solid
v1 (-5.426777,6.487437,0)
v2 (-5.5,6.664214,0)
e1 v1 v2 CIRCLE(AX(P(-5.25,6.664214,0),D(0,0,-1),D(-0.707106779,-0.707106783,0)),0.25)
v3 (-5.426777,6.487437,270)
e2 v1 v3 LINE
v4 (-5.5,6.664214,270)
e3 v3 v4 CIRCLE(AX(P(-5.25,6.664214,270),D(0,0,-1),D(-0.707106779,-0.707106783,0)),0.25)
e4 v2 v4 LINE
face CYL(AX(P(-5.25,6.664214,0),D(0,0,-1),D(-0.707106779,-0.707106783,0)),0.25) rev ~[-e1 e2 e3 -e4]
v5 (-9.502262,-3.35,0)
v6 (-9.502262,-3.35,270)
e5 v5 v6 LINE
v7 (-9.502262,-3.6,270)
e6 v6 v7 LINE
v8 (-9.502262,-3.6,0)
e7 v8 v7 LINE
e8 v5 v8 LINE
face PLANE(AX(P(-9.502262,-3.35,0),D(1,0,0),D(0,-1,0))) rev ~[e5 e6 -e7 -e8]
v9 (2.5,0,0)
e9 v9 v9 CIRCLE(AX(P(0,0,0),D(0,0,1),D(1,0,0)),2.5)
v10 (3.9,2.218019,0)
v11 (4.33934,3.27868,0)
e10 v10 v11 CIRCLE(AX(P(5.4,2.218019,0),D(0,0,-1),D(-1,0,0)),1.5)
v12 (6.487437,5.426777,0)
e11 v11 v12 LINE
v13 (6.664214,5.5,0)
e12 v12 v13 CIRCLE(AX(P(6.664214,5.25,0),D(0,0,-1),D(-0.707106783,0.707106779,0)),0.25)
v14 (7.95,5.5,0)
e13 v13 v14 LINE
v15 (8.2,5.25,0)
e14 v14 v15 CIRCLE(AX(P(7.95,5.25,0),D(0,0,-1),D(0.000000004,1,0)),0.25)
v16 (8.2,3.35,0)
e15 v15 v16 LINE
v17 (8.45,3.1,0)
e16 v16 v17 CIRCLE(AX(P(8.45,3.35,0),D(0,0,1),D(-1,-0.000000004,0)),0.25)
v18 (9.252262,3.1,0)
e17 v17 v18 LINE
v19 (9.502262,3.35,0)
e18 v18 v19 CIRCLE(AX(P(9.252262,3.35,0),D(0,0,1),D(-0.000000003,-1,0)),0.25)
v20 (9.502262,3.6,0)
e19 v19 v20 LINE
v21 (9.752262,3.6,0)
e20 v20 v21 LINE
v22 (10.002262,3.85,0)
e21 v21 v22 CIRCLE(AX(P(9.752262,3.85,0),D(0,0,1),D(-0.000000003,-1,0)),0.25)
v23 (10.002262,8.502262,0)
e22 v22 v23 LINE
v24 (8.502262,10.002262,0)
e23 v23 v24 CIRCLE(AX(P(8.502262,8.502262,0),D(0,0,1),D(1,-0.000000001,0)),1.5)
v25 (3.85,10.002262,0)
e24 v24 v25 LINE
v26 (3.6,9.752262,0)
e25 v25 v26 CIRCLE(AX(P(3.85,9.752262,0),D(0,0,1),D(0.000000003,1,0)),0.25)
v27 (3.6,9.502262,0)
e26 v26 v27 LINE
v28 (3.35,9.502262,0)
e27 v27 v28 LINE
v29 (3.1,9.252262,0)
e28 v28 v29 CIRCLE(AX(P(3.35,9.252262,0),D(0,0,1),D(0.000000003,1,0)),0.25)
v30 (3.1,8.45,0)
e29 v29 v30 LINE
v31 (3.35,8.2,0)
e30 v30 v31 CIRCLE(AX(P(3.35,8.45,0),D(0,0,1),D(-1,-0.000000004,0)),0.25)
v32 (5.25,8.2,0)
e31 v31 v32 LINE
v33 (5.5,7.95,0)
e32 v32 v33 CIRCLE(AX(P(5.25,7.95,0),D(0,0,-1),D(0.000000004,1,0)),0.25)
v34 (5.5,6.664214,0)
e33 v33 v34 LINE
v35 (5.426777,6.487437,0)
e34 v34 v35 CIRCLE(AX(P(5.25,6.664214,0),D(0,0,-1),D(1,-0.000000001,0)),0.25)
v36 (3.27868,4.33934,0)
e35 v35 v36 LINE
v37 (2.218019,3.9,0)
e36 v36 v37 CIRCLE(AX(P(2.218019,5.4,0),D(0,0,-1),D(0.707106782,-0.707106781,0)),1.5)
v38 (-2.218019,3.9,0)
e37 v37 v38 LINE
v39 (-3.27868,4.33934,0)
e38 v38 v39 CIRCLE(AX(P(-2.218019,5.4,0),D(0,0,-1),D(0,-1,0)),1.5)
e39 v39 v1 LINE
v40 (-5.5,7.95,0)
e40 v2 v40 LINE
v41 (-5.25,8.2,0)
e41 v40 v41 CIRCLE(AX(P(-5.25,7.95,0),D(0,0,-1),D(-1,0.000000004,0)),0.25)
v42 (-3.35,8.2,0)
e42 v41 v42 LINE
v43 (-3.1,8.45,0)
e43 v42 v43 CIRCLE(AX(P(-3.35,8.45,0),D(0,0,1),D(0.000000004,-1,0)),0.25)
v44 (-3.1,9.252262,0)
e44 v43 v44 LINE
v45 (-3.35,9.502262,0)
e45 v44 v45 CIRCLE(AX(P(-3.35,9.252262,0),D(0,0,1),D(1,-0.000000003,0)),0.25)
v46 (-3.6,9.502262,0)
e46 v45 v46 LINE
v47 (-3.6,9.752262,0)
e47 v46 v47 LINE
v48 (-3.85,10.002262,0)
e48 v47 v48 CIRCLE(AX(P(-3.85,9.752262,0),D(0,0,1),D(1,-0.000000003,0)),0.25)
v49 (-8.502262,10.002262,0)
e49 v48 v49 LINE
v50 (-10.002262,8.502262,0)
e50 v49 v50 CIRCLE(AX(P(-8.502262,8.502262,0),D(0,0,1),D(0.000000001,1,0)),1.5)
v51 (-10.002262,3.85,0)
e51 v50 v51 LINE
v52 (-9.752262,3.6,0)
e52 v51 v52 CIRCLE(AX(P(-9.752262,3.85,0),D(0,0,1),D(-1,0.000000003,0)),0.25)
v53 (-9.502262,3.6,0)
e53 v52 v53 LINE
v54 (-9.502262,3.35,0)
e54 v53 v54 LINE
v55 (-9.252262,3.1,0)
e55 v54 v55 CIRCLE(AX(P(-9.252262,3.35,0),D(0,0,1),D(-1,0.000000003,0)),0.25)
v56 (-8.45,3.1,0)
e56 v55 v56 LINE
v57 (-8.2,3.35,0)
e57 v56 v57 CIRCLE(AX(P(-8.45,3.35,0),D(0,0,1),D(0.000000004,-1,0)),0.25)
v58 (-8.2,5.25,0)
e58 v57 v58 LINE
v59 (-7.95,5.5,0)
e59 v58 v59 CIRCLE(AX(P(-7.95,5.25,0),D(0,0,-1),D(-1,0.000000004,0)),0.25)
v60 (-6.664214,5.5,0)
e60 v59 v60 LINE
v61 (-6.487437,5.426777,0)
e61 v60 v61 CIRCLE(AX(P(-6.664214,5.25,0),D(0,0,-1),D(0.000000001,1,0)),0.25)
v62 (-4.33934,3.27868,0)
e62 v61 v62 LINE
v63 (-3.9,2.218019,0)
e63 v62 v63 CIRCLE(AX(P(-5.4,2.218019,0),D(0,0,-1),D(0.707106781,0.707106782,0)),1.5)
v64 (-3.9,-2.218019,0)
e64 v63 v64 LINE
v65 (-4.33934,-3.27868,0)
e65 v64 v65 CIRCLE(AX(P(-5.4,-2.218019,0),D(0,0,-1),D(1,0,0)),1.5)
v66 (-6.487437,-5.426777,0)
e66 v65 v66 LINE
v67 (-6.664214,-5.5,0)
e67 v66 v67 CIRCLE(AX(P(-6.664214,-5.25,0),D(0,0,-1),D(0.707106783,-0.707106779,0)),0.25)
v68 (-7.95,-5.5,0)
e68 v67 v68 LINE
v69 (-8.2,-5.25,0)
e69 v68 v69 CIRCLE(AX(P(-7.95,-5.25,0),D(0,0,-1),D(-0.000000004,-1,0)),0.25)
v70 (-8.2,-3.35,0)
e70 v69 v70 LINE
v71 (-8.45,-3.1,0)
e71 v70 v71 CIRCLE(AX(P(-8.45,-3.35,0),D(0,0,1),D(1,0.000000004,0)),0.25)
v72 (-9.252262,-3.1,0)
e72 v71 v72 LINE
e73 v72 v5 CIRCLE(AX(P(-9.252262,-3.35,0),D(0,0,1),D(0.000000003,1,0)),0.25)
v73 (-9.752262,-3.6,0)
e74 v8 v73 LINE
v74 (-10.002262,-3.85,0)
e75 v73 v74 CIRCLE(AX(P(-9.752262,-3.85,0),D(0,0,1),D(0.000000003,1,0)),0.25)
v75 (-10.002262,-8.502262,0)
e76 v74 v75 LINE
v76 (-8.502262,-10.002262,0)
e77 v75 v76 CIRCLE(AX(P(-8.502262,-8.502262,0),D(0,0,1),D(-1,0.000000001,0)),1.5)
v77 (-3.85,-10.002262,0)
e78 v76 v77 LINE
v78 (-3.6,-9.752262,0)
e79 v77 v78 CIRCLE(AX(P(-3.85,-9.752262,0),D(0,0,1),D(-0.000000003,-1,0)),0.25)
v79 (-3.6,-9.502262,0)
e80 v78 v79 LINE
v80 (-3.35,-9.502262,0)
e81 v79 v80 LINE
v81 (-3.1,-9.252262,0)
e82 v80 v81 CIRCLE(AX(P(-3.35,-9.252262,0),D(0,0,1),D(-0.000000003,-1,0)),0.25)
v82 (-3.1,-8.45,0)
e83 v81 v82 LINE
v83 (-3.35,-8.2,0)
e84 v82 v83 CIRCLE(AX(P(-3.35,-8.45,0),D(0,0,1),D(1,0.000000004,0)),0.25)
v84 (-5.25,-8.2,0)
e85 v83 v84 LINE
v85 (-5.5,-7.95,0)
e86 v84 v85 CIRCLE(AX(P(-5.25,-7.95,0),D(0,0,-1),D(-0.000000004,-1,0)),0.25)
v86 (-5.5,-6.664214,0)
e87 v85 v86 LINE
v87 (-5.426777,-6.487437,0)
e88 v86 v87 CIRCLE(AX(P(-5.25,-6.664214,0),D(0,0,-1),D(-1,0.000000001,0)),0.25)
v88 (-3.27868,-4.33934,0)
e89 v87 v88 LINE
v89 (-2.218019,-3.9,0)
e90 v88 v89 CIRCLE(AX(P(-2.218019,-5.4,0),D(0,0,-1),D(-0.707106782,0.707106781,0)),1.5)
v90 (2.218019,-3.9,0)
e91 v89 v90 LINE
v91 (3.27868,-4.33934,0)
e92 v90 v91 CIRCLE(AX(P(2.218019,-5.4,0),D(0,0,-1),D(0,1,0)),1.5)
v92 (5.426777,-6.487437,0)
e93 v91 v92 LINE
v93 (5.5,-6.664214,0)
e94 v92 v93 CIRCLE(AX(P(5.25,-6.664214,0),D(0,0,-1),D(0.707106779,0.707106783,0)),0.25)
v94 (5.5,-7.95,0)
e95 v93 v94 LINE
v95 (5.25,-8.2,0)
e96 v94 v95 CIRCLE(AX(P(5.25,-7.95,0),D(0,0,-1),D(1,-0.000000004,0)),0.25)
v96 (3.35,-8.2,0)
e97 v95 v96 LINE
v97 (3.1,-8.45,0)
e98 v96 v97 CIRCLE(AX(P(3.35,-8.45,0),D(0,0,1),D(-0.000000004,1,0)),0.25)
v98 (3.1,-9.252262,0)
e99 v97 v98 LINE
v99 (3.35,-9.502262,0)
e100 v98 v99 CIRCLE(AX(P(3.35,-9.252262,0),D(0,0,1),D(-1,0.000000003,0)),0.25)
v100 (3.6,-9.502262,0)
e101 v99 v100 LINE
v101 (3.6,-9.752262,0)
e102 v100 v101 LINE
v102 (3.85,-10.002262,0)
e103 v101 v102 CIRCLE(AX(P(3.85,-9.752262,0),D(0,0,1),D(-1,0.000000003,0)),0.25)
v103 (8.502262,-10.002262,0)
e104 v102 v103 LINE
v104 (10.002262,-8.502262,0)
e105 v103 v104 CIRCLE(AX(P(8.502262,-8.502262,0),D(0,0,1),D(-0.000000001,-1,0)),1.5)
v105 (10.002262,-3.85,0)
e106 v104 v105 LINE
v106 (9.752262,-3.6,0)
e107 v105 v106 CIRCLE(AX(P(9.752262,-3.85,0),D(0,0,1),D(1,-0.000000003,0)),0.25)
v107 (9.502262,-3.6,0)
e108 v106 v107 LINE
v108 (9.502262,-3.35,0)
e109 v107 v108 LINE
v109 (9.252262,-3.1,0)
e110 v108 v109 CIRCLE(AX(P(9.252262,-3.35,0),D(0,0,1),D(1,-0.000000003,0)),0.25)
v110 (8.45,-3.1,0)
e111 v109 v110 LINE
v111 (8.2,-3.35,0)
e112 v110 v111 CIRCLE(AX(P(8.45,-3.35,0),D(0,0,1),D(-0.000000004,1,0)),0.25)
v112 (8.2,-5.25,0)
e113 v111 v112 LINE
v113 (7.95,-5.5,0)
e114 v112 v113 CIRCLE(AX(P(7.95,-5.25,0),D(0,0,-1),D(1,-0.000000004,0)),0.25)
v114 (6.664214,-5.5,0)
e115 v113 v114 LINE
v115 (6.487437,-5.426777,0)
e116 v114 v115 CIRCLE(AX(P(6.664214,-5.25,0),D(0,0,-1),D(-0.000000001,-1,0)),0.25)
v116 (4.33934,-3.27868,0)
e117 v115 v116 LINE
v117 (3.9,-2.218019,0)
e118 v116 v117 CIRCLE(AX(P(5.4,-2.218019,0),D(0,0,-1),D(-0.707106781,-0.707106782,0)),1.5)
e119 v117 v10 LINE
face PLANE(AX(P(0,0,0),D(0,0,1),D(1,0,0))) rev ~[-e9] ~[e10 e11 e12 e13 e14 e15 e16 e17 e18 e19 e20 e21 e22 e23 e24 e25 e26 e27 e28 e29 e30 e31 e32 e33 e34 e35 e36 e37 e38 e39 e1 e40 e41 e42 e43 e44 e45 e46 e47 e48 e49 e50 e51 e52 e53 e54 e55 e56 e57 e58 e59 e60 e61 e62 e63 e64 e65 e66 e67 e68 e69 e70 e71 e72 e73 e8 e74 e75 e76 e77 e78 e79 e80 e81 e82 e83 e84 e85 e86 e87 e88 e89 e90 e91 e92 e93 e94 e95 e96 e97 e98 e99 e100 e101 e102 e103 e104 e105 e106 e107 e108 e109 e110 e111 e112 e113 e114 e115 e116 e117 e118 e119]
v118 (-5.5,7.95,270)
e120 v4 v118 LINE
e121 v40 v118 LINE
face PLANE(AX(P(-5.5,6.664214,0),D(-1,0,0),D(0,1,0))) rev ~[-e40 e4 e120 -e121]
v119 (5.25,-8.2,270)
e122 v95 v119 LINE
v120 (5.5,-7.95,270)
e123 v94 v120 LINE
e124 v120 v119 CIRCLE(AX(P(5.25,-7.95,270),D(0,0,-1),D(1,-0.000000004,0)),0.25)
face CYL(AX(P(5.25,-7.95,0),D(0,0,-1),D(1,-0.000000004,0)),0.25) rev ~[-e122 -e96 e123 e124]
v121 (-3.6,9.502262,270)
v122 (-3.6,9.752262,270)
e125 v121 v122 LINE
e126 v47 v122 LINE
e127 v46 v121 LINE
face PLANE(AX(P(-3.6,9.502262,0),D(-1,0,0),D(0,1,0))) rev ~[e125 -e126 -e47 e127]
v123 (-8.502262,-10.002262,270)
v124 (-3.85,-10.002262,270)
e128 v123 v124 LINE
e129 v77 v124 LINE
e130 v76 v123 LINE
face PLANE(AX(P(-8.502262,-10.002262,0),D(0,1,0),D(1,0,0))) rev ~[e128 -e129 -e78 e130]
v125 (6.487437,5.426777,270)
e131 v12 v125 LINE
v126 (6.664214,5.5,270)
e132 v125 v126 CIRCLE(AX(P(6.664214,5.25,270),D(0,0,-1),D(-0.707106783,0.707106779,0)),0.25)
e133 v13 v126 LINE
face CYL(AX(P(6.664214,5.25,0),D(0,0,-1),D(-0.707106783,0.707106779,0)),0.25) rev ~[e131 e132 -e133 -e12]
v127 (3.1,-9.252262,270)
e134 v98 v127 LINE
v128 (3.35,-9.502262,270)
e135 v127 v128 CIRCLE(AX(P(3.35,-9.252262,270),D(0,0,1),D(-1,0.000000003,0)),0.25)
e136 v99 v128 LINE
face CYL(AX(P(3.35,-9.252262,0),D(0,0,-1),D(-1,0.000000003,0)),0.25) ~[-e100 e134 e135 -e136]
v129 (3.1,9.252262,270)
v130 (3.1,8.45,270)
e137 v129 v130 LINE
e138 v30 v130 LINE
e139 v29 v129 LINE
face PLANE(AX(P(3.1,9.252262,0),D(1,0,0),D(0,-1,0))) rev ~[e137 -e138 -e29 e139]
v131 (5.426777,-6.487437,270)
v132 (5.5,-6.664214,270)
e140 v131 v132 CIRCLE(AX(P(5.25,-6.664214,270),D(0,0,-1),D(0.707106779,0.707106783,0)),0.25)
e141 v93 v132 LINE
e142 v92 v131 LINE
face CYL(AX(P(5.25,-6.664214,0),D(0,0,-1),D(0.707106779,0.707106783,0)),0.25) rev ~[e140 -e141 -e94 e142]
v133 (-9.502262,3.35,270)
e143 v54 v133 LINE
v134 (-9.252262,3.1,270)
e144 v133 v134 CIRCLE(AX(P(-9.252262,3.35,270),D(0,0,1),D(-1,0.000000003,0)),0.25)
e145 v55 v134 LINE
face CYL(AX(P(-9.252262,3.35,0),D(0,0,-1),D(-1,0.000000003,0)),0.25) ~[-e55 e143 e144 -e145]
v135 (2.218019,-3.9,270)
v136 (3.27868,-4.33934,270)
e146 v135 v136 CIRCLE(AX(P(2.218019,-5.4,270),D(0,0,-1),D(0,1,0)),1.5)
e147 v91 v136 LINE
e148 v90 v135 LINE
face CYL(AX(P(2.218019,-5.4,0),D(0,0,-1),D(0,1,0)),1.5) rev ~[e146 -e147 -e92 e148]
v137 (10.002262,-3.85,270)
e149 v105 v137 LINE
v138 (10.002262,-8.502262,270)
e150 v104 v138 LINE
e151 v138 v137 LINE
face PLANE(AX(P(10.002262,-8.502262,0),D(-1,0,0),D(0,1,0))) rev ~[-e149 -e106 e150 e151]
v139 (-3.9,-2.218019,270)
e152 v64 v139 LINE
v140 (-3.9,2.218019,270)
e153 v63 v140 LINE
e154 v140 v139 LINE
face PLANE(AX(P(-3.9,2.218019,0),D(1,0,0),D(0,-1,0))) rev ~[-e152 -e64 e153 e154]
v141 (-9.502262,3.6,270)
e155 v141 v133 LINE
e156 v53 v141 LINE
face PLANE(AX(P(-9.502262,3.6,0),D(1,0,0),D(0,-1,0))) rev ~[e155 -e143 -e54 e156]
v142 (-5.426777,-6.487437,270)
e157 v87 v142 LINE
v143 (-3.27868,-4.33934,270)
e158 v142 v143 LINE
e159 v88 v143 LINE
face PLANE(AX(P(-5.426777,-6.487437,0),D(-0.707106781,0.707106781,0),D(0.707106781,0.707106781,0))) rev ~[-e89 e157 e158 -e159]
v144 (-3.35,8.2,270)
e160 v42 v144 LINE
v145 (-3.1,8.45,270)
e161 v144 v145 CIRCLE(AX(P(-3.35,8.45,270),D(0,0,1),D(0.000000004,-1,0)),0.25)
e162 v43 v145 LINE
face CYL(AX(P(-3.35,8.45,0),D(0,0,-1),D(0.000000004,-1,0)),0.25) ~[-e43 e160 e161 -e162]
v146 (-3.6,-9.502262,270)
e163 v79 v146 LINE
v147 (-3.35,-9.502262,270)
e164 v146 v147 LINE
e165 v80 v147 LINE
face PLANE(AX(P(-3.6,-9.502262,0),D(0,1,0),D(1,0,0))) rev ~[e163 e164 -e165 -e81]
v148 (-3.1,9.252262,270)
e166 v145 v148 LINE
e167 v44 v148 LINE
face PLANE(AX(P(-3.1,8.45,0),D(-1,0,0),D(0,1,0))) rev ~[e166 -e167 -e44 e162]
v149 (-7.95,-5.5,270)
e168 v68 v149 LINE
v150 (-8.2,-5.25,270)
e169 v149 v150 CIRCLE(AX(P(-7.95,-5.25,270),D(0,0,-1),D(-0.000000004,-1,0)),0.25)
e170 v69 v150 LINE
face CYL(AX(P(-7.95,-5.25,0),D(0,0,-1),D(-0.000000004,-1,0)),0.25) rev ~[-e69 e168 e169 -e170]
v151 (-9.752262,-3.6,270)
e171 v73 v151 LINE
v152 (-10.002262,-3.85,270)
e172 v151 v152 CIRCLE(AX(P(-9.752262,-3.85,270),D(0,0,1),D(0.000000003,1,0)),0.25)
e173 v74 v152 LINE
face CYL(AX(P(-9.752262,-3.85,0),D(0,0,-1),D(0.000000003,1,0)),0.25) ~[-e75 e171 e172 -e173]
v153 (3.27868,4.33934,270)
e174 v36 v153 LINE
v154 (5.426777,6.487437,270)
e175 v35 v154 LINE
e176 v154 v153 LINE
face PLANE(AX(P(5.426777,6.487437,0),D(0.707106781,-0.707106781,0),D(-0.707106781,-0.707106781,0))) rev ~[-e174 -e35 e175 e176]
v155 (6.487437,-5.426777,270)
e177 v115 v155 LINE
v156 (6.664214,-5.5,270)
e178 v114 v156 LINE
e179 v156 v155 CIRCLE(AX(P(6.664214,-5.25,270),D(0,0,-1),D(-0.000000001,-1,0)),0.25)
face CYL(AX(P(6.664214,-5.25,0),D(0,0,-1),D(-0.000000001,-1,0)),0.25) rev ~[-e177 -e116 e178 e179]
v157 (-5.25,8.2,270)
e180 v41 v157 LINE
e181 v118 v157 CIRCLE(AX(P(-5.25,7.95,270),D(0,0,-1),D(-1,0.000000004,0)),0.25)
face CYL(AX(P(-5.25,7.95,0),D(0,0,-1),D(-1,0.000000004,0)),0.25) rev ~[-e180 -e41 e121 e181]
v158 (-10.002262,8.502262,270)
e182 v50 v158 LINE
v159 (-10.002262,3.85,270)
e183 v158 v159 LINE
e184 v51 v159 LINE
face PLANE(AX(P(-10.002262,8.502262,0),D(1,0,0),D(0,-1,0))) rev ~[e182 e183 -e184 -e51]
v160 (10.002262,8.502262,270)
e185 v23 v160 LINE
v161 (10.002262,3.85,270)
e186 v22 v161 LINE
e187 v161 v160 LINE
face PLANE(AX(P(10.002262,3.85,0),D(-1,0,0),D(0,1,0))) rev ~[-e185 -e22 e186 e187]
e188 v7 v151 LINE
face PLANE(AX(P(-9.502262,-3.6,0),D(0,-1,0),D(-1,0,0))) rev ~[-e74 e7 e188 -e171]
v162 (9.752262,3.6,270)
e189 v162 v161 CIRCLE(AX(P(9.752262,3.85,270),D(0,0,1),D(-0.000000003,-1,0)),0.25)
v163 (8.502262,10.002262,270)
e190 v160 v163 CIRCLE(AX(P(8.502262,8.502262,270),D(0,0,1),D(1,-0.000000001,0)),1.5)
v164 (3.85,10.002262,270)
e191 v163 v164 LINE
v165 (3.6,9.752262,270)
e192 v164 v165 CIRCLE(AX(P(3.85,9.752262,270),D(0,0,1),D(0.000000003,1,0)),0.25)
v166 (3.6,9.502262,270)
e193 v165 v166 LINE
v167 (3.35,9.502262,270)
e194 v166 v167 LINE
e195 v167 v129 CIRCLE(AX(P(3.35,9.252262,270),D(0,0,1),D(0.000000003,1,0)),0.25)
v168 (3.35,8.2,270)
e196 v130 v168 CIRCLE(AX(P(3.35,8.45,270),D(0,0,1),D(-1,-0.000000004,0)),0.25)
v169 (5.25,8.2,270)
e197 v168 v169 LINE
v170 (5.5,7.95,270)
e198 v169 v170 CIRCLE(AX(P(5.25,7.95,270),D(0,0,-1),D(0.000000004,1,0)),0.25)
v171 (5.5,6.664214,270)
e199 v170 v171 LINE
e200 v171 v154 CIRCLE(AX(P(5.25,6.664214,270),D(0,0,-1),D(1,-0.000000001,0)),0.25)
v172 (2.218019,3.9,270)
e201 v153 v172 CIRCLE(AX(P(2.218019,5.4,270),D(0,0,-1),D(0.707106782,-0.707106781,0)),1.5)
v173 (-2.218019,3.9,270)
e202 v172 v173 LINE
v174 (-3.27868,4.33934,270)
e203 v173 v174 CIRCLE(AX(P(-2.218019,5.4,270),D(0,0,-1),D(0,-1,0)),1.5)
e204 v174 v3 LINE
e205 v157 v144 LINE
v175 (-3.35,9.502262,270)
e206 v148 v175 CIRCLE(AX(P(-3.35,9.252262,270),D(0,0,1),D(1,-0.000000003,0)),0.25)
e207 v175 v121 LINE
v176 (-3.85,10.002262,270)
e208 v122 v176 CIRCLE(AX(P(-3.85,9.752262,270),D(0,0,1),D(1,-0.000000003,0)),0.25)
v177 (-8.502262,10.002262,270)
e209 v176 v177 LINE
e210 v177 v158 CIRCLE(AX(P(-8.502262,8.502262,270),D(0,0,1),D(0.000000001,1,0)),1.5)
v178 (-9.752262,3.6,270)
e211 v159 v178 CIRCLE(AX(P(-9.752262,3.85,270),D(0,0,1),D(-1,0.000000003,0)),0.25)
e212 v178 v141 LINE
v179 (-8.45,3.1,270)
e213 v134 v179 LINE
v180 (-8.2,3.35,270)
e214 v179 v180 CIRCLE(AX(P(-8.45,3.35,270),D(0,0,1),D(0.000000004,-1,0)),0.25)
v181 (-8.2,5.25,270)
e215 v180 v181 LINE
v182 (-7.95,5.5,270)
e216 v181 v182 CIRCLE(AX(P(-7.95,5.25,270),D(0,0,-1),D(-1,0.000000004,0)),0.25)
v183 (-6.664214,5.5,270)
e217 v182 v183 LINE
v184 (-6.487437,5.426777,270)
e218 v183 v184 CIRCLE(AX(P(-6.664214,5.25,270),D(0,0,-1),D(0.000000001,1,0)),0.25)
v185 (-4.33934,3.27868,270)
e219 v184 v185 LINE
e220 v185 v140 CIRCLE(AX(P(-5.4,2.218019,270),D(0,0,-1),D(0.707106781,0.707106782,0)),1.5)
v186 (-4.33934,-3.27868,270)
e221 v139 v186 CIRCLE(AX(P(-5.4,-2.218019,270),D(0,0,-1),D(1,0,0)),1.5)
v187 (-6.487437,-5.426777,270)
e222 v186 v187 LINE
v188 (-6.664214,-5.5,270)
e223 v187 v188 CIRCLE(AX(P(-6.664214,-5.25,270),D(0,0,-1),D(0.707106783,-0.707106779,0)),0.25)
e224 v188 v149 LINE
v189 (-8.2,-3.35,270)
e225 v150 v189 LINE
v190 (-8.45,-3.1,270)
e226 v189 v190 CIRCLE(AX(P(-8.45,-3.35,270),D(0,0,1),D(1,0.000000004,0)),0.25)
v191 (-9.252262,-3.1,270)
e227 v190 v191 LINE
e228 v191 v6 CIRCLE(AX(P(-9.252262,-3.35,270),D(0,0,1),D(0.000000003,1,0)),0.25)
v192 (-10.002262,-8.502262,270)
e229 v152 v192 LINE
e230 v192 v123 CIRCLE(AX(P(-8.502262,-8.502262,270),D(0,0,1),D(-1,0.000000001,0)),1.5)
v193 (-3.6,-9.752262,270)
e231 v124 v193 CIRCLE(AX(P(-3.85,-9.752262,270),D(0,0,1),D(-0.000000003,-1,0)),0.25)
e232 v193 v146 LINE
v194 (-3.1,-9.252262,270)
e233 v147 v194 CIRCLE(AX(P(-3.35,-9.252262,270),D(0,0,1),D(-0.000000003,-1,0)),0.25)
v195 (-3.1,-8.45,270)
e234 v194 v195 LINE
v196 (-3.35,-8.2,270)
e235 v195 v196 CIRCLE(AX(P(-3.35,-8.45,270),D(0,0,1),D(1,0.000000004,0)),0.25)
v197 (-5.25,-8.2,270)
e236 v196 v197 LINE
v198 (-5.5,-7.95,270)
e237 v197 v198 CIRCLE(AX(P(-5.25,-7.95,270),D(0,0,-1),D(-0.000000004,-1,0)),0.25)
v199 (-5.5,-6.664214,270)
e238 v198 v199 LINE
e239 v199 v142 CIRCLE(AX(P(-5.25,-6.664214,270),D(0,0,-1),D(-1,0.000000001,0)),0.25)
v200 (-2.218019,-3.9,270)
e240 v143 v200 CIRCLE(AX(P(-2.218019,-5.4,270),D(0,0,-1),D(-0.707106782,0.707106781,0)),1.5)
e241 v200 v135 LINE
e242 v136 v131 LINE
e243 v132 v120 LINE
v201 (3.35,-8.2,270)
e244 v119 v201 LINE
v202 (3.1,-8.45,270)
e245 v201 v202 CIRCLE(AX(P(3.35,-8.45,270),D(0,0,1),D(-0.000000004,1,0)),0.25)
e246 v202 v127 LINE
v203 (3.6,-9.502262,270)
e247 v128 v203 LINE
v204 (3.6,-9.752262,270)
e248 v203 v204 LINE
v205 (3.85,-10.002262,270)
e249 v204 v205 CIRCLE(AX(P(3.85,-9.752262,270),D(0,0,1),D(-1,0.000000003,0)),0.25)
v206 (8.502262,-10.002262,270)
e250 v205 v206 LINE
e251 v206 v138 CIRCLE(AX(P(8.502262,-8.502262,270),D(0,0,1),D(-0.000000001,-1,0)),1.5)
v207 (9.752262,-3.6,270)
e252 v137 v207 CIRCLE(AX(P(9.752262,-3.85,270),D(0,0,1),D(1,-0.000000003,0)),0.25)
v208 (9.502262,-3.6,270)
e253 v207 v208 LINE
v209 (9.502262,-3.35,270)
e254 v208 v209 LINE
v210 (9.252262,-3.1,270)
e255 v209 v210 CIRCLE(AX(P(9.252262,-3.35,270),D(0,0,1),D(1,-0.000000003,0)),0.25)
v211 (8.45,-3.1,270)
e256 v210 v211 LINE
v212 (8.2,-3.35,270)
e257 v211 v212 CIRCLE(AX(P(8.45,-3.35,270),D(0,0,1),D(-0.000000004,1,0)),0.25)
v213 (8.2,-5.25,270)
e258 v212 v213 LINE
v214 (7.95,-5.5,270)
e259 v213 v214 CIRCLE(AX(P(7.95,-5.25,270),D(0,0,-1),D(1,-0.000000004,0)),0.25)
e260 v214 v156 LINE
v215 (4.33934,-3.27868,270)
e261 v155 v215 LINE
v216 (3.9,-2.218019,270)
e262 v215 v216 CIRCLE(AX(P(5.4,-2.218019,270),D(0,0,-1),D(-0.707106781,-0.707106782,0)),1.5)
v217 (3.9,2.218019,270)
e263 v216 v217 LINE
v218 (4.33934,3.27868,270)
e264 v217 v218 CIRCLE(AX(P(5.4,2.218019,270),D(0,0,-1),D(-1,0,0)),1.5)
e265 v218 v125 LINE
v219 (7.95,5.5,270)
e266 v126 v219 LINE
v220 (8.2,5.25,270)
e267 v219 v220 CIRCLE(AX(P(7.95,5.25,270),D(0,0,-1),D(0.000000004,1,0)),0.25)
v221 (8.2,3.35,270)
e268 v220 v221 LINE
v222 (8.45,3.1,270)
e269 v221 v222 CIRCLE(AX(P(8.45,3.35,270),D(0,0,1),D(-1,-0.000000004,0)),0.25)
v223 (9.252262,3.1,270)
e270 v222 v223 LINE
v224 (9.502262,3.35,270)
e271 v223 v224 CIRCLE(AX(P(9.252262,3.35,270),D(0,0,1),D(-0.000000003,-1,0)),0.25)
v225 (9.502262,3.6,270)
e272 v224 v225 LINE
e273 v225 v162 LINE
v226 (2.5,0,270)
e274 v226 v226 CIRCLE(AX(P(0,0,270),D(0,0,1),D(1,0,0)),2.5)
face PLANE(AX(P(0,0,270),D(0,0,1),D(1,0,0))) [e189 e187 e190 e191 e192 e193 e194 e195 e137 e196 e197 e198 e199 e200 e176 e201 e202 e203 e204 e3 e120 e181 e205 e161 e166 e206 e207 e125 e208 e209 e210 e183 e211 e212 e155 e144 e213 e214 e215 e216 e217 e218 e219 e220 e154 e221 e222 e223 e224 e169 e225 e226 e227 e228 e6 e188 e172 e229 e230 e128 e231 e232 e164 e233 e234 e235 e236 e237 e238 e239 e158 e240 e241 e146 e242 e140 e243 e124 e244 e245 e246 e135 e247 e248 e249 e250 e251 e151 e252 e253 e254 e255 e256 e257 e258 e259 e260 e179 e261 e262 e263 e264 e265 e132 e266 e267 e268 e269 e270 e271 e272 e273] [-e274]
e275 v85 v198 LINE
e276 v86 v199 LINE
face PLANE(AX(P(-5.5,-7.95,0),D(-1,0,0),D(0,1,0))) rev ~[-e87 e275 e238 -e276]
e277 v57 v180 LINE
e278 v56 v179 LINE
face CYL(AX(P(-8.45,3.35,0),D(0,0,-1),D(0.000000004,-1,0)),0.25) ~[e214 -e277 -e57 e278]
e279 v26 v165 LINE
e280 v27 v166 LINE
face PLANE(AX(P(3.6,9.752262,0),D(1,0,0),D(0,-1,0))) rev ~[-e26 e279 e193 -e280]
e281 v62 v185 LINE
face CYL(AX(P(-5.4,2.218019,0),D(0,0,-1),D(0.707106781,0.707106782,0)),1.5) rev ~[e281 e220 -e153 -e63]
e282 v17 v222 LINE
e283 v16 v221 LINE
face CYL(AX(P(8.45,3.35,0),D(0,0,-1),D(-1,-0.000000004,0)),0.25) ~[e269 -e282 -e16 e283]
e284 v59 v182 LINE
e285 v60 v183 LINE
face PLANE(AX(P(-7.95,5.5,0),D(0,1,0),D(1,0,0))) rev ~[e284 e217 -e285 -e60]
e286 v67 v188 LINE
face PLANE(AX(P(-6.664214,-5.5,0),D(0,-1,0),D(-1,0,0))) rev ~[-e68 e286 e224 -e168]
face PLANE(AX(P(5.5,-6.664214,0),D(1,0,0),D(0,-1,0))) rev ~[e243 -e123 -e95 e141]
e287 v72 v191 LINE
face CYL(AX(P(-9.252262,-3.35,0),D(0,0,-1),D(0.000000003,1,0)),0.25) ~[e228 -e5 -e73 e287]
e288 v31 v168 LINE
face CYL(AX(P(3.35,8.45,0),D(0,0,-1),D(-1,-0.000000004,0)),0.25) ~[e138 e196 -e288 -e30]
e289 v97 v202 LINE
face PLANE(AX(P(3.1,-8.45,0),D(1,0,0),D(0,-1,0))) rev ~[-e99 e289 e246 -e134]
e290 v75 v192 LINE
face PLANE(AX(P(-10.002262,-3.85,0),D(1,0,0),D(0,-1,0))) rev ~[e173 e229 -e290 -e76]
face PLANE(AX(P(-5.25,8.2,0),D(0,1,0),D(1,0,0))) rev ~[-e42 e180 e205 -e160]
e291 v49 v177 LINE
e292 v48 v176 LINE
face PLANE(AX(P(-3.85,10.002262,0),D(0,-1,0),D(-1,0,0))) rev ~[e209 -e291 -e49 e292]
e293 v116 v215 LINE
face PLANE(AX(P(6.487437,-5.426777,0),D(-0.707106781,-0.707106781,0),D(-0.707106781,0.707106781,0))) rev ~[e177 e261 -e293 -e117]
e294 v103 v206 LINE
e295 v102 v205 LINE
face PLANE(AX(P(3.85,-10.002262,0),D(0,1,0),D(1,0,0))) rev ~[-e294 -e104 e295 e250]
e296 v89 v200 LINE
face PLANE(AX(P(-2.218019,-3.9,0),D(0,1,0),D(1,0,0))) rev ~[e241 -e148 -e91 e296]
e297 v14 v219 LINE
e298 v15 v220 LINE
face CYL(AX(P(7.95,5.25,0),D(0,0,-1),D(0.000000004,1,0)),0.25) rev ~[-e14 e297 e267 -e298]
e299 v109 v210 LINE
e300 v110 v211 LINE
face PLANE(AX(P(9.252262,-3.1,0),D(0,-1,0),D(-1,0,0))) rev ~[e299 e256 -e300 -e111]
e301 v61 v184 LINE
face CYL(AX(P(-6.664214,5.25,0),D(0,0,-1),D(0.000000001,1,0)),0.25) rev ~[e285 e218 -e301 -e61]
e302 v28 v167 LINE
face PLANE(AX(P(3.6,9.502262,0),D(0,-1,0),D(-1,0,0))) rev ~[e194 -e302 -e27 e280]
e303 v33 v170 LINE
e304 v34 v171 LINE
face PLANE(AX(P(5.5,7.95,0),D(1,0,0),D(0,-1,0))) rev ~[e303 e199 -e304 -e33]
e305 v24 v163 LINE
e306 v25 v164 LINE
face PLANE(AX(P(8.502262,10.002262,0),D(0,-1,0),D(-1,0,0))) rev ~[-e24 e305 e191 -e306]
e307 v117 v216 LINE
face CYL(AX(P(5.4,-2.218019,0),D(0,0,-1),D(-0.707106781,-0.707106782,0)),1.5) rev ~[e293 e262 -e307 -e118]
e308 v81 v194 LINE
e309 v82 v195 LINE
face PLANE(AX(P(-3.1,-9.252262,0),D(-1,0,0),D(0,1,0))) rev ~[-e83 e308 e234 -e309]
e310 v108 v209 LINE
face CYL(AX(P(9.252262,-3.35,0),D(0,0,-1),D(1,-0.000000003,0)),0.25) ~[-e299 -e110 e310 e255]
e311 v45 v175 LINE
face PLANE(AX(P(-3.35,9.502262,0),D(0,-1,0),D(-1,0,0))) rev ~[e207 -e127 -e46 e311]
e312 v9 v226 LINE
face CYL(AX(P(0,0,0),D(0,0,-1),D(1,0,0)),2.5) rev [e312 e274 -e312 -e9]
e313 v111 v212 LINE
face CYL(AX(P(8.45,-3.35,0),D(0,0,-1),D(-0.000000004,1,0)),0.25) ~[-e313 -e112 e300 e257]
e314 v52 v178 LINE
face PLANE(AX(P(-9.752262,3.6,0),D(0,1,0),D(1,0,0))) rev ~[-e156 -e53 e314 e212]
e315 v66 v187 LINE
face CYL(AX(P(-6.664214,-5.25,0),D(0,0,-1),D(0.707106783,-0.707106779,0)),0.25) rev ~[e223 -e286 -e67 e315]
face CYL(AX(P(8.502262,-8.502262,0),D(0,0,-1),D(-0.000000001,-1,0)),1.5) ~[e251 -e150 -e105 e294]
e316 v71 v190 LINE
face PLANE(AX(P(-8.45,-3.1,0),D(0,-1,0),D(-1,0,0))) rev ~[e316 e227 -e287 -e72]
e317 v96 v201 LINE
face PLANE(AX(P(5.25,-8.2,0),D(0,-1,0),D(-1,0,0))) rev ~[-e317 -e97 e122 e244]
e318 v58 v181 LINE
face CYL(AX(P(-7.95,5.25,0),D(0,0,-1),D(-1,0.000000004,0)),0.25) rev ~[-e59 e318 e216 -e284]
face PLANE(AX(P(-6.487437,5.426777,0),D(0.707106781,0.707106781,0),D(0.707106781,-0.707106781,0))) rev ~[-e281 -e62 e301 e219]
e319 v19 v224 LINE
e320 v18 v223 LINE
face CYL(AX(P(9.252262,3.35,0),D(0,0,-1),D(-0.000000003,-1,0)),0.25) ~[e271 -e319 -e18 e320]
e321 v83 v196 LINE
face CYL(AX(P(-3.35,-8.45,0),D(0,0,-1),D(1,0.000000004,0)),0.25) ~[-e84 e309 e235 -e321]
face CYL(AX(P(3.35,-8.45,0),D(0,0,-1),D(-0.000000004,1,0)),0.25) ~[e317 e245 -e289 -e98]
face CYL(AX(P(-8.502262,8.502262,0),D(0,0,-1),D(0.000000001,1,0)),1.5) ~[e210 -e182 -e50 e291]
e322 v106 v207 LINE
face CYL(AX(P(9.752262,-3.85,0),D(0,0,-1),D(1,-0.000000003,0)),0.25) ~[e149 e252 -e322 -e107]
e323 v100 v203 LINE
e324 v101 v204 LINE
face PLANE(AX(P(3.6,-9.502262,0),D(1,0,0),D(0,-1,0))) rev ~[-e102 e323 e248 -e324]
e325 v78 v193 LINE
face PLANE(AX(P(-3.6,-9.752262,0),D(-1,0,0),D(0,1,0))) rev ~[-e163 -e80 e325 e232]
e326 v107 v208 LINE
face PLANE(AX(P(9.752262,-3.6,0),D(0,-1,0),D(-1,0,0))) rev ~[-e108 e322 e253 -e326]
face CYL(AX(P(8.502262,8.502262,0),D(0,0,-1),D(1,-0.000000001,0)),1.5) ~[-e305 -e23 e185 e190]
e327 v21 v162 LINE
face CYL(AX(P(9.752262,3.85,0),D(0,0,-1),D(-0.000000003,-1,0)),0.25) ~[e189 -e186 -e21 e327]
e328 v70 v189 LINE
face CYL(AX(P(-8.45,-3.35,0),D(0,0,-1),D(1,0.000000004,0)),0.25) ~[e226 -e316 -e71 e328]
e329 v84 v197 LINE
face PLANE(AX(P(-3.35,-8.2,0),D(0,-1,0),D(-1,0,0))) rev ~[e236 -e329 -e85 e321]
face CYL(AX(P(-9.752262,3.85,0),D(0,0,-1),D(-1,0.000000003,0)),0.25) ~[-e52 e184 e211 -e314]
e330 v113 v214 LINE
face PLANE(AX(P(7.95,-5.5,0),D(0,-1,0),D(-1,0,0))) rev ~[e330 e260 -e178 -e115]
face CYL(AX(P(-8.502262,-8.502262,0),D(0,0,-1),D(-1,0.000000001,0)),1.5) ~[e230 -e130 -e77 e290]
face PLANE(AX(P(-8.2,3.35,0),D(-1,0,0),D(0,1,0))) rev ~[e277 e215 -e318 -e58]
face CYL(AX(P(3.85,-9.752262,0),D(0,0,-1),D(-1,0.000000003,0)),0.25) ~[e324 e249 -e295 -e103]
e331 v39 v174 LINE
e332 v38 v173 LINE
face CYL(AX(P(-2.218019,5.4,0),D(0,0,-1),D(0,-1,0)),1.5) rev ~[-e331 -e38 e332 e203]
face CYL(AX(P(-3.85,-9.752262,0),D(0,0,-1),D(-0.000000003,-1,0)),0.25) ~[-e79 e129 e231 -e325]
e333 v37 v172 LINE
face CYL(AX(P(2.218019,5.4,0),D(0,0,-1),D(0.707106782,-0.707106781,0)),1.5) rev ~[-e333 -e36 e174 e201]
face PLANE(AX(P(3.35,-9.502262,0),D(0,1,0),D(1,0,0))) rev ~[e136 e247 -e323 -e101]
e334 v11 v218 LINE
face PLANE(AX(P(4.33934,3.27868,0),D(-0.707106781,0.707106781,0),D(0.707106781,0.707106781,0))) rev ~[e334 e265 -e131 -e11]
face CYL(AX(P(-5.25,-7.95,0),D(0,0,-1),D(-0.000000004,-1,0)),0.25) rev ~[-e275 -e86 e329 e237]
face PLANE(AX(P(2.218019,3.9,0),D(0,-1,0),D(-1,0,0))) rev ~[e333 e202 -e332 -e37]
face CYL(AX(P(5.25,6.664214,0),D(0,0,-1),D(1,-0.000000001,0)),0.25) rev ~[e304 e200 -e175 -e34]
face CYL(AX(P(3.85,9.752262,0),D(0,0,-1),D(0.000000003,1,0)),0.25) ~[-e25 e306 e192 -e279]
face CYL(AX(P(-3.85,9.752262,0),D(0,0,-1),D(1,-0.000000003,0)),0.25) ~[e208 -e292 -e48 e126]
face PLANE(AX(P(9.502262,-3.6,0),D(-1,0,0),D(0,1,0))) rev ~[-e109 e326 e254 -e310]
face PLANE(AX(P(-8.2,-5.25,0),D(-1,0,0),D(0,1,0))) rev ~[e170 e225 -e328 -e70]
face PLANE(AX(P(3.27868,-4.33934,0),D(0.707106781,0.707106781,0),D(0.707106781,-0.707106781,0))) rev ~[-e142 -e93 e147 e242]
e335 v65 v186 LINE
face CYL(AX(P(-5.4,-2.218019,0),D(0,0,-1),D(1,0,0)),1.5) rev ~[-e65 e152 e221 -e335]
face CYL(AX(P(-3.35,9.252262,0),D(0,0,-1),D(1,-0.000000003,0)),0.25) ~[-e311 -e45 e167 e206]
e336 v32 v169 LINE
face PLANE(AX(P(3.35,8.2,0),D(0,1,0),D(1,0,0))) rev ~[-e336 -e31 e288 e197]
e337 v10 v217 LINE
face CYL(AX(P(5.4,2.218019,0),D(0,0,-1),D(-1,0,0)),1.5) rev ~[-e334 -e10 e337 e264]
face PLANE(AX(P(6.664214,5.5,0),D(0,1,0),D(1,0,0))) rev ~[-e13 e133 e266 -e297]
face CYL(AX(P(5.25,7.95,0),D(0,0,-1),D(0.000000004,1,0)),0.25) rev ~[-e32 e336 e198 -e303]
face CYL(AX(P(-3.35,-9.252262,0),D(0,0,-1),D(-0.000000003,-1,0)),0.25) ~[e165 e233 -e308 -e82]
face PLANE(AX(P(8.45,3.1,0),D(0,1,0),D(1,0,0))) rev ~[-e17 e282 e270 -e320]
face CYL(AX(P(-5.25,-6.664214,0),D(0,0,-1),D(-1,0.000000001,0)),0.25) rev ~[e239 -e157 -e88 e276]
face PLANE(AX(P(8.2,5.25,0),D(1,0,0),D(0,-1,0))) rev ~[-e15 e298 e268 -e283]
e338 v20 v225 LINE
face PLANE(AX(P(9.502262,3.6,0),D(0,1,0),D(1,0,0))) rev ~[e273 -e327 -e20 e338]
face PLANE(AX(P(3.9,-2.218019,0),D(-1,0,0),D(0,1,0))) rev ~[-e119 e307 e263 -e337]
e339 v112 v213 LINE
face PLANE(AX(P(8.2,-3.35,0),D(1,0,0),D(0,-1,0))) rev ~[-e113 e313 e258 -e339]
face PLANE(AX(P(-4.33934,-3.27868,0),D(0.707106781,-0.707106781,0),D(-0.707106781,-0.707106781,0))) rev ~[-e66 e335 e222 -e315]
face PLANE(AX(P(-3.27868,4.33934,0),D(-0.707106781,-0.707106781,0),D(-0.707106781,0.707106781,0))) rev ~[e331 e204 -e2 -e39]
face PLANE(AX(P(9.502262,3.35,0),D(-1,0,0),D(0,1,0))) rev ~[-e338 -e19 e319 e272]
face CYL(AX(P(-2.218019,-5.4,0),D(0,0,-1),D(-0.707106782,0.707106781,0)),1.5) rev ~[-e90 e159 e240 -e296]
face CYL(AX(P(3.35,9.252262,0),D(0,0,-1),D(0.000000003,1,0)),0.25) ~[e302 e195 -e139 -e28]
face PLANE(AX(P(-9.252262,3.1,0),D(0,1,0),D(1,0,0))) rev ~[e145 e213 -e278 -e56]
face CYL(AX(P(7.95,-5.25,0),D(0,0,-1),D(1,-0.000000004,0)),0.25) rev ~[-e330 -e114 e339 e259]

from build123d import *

# Parameters (mm, degrees)
SKETCH_1_R      = 2.5
EXTRUDE_1_DEPTH = 270


with BuildPart() as part:
    # 草图1 → 凸台-拉伸1 (new body)
    with BuildSketch(Plane.XY):
        with BuildLine():
            Line((-8.502261885, -10.002261885), (-3.85, -10.002261885))
            ThreePointArc((-3.85, -10.002261885), (-3.673223305, -9.929038581), (-3.6, -9.752261885))
            Line((-3.6, -9.752261885), (-3.6, -9.502261885))
            Line((-3.6, -9.502261885), (-3.35, -9.502261885))
            ThreePointArc((-3.35, -9.502261885), (-3.173223305, -9.429038581), (-3.1, -9.252261885))
            Line((-3.1, -9.252261885), (-3.1, -8.45))
            ThreePointArc((-3.1, -8.45), (-3.173223305, -8.273223305), (-3.35, -8.2))
            Line((-3.35, -8.2), (-5.25, -8.2))
            ThreePointArc((-5.25, -8.2), (-5.426776695, -8.126776695), (-5.5, -7.95))
            Line((-5.5, -7.95), (-5.5, -6.664213562))
            ThreePointArc((-5.5, -6.664213562), (-5.480969883, -6.568542704), (-5.426776695, -6.487436867))
            Line((-5.426776695, -6.487436867), (-3.278679656, -4.339339828))
            ThreePointArc((-3.278679656, -4.339339828), (-2.792044633, -4.014180701), (-2.218019485, -3.9))
            Line((-2.218019485, -3.9), (2.218019485, -3.9))
            ThreePointArc((2.218019485, -3.9), (2.792044633, -4.014180701), (3.278679656, -4.339339828))
            Line((3.278679656, -4.339339828), (5.426776695, -6.487436867))
            ThreePointArc((5.426776695, -6.487436867), (5.480969883, -6.568542704), (5.5, -6.664213562))
            Line((5.5, -6.664213562), (5.5, -7.95))
            ThreePointArc((5.5, -7.95), (5.426776695, -8.126776695), (5.25, -8.2))
            Line((5.25, -8.2), (3.35, -8.2))
            ThreePointArc((3.35, -8.2), (3.173223305, -8.273223305), (3.1, -8.45))
            Line((3.1, -8.45), (3.1, -9.252261885))
            ThreePointArc((3.1, -9.252261885), (3.173223305, -9.429038581), (3.35, -9.502261885))
            Line((3.35, -9.502261885), (3.6, -9.502261885))
            Line((3.6, -9.502261885), (3.6, -9.752261885))
            ThreePointArc((3.6, -9.752261885), (3.673223305, -9.929038581), (3.85, -10.002261885))
            Line((3.85, -10.002261885), (8.502261885, -10.002261885))
            ThreePointArc((8.502261885, -10.002261885), (9.562922057, -9.562922057), (10.002261885, -8.502261885))
            Line((10.002261885, -8.502261885), (10.002261885, -3.85))
            ThreePointArc((10.002261885, -3.85), (9.929038581, -3.673223305), (9.752261885, -3.6))
            Line((9.752261885, -3.6), (9.502261885, -3.6))
            Line((9.502261885, -3.6), (9.502261885, -3.35))
            ThreePointArc((9.502261885, -3.35), (9.429038581, -3.173223305), (9.252261885, -3.1))
            Line((9.252261885, -3.1), (8.45, -3.1))
            ThreePointArc((8.45, -3.1), (8.273223305, -3.173223305), (8.2, -3.35))
            Line((8.2, -3.35), (8.2, -5.25))
            ThreePointArc((8.2, -5.25), (8.126776695, -5.426776695), (7.95, -5.5))
            Line((7.95, -5.5), (6.664213562, -5.5))
            ThreePointArc((6.664213562, -5.5), (6.568542704, -5.480969883), (6.487436867, -5.426776695))
            Line((6.487436867, -5.426776695), (4.339339828, -3.278679656))
            ThreePointArc((4.339339828, -3.278679656), (4.014180701, -2.792044633), (3.9, -2.218019485))
            Line((3.9, -2.218019485), (3.9, 2.218019485))
            ThreePointArc((3.9, 2.218019485), (4.014180701, 2.792044633), (4.339339828, 3.278679656))
            Line((4.339339828, 3.278679656), (6.487436867, 5.426776695))
            ThreePointArc((6.487436867, 5.426776695), (6.568542704, 5.480969883), (6.664213562, 5.5))
            Line((6.664213562, 5.5), (7.95, 5.5))
            ThreePointArc((7.95, 5.5), (8.126776695, 5.426776695), (8.2, 5.25))
            Line((8.2, 5.25), (8.2, 3.35))
            ThreePointArc((8.2, 3.35), (8.273223305, 3.173223305), (8.45, 3.1))
            Line((8.45, 3.1), (9.252261885, 3.1))
            ThreePointArc((9.252261885, 3.1), (9.429038581, 3.173223305), (9.502261885, 3.35))
            Line((9.502261885, 3.35), (9.502261885, 3.6))
            Line((9.502261885, 3.6), (9.752261885, 3.6))
            ThreePointArc((9.752261885, 3.6), (9.929038581, 3.673223305), (10.002261885, 3.85))
            Line((10.002261885, 3.85), (10.002261885, 8.502261885))
            ThreePointArc((10.002261885, 8.502261885), (9.562922057, 9.562922057), (8.502261885, 10.002261885))
            Line((8.502261885, 10.002261885), (3.85, 10.002261885))
            ThreePointArc((3.85, 10.002261885), (3.673223305, 9.929038581), (3.6, 9.752261885))
            Line((3.6, 9.752261885), (3.6, 9.502261885))
            Line((3.6, 9.502261885), (3.35, 9.502261885))
            ThreePointArc((3.35, 9.502261885), (3.173223305, 9.429038581), (3.1, 9.252261885))
            Line((3.1, 9.252261885), (3.1, 8.45))
            ThreePointArc((3.1, 8.45), (3.173223305, 8.273223305), (3.35, 8.2))
            Line((3.35, 8.2), (5.25, 8.2))
            ThreePointArc((5.25, 8.2), (5.426776695, 8.126776695), (5.5, 7.95))
            Line((5.5, 7.95), (5.5, 6.664213562))
            ThreePointArc((5.5, 6.664213562), (5.480969883, 6.568542704), (5.426776695, 6.487436867))
            Line((5.426776695, 6.487436867), (3.278679656, 4.339339828))
            ThreePointArc((3.278679656, 4.339339828), (2.792044633, 4.014180701), (2.218019485, 3.9))
            Line((2.218019485, 3.9), (-2.218019485, 3.9))
            ThreePointArc((-2.218019485, 3.9), (-2.792044633, 4.014180701), (-3.278679656, 4.339339828))
            Line((-3.278679656, 4.339339828), (-5.426776695, 6.487436867))
            ThreePointArc((-5.426776695, 6.487436867), (-5.480969883, 6.568542704), (-5.5, 6.664213562))
            Line((-5.5, 6.664213562), (-5.5, 7.95))
            ThreePointArc((-5.5, 7.95), (-5.426776695, 8.126776695), (-5.25, 8.2))
            Line((-5.25, 8.2), (-3.35, 8.2))
            ThreePointArc((-3.35, 8.2), (-3.173223305, 8.273223305), (-3.1, 8.45))
            Line((-3.1, 8.45), (-3.1, 9.252261885))
            ThreePointArc((-3.1, 9.252261885), (-3.173223305, 9.429038581), (-3.35, 9.502261885))
            Line((-3.35, 9.502261885), (-3.6, 9.502261885))
            Line((-3.6, 9.502261885), (-3.6, 9.752261885))
            ThreePointArc((-3.6, 9.752261885), (-3.673223305, 9.929038581), (-3.85, 10.002261885))
            Line((-3.85, 10.002261885), (-8.502261885, 10.002261885))
            ThreePointArc((-8.502261885, 10.002261885), (-9.562922057, 9.562922057), (-10.002261885, 8.502261885))
            Line((-10.002261885, 8.502261885), (-10.002261885, 3.85))
            ThreePointArc((-10.002261885, 3.85), (-9.929038581, 3.673223305), (-9.752261885, 3.6))
            Line((-9.752261885, 3.6), (-9.502261885, 3.6))
            Line((-9.502261885, 3.6), (-9.502261885, 3.35))
            ThreePointArc((-9.502261885, 3.35), (-9.429038581, 3.173223305), (-9.252261885, 3.1))
            Line((-9.252261885, 3.1), (-8.45, 3.1))
            ThreePointArc((-8.45, 3.1), (-8.273223305, 3.173223305), (-8.2, 3.35))
            Line((-8.2, 3.35), (-8.2, 5.25))
            ThreePointArc((-8.2, 5.25), (-8.126776695, 5.426776695), (-7.95, 5.5))
            Line((-7.95, 5.5), (-6.664213562, 5.5))
            ThreePointArc((-6.664213562, 5.5), (-6.568542704, 5.480969883), (-6.487436867, 5.426776695))
            Line((-6.487436867, 5.426776695), (-4.339339828, 3.278679656))
            ThreePointArc((-4.339339828, 3.278679656), (-4.014180701, 2.792044633), (-3.9, 2.218019485))
            Line((-3.9, 2.218019485), (-3.9, -2.218019485))
            ThreePointArc((-3.9, -2.218019485), (-4.014180701, -2.792044633), (-4.339339828, -3.278679656))
            Line((-4.339339828, -3.278679656), (-6.487436867, -5.426776695))
            ThreePointArc((-6.487436867, -5.426776695), (-6.568542704, -5.480969883), (-6.664213562, -5.5))
            Line((-6.664213562, -5.5), (-7.95, -5.5))
            ThreePointArc((-7.95, -5.5), (-8.126776695, -5.426776695), (-8.2, -5.25))
            Line((-8.2, -5.25), (-8.2, -3.35))
            ThreePointArc((-8.2, -3.35), (-8.273223305, -3.173223305), (-8.45, -3.1))
            Line((-8.45, -3.1), (-9.252261885, -3.1))
            ThreePointArc((-9.252261885, -3.1), (-9.429038581, -3.173223305), (-9.502261885, -3.35))
            Line((-9.502261885, -3.35), (-9.502261885, -3.6))
            Line((-9.502261885, -3.6), (-9.752261885, -3.6))
            ThreePointArc((-9.752261885, -3.6), (-9.929038581, -3.673223305), (-10.002261885, -3.85))
            Line((-10.002261885, -3.85), (-10.002261885, -8.502261885))
            ThreePointArc((-10.002261885, -8.502261885), (-9.562922057, -9.562922057), (-8.502261885, -10.002261885))
        make_face()
        Circle(SKETCH_1_R, mode=Mode.SUBTRACT)
    extrude(amount=EXTRUDE_1_DEPTH)


solid = part.part
